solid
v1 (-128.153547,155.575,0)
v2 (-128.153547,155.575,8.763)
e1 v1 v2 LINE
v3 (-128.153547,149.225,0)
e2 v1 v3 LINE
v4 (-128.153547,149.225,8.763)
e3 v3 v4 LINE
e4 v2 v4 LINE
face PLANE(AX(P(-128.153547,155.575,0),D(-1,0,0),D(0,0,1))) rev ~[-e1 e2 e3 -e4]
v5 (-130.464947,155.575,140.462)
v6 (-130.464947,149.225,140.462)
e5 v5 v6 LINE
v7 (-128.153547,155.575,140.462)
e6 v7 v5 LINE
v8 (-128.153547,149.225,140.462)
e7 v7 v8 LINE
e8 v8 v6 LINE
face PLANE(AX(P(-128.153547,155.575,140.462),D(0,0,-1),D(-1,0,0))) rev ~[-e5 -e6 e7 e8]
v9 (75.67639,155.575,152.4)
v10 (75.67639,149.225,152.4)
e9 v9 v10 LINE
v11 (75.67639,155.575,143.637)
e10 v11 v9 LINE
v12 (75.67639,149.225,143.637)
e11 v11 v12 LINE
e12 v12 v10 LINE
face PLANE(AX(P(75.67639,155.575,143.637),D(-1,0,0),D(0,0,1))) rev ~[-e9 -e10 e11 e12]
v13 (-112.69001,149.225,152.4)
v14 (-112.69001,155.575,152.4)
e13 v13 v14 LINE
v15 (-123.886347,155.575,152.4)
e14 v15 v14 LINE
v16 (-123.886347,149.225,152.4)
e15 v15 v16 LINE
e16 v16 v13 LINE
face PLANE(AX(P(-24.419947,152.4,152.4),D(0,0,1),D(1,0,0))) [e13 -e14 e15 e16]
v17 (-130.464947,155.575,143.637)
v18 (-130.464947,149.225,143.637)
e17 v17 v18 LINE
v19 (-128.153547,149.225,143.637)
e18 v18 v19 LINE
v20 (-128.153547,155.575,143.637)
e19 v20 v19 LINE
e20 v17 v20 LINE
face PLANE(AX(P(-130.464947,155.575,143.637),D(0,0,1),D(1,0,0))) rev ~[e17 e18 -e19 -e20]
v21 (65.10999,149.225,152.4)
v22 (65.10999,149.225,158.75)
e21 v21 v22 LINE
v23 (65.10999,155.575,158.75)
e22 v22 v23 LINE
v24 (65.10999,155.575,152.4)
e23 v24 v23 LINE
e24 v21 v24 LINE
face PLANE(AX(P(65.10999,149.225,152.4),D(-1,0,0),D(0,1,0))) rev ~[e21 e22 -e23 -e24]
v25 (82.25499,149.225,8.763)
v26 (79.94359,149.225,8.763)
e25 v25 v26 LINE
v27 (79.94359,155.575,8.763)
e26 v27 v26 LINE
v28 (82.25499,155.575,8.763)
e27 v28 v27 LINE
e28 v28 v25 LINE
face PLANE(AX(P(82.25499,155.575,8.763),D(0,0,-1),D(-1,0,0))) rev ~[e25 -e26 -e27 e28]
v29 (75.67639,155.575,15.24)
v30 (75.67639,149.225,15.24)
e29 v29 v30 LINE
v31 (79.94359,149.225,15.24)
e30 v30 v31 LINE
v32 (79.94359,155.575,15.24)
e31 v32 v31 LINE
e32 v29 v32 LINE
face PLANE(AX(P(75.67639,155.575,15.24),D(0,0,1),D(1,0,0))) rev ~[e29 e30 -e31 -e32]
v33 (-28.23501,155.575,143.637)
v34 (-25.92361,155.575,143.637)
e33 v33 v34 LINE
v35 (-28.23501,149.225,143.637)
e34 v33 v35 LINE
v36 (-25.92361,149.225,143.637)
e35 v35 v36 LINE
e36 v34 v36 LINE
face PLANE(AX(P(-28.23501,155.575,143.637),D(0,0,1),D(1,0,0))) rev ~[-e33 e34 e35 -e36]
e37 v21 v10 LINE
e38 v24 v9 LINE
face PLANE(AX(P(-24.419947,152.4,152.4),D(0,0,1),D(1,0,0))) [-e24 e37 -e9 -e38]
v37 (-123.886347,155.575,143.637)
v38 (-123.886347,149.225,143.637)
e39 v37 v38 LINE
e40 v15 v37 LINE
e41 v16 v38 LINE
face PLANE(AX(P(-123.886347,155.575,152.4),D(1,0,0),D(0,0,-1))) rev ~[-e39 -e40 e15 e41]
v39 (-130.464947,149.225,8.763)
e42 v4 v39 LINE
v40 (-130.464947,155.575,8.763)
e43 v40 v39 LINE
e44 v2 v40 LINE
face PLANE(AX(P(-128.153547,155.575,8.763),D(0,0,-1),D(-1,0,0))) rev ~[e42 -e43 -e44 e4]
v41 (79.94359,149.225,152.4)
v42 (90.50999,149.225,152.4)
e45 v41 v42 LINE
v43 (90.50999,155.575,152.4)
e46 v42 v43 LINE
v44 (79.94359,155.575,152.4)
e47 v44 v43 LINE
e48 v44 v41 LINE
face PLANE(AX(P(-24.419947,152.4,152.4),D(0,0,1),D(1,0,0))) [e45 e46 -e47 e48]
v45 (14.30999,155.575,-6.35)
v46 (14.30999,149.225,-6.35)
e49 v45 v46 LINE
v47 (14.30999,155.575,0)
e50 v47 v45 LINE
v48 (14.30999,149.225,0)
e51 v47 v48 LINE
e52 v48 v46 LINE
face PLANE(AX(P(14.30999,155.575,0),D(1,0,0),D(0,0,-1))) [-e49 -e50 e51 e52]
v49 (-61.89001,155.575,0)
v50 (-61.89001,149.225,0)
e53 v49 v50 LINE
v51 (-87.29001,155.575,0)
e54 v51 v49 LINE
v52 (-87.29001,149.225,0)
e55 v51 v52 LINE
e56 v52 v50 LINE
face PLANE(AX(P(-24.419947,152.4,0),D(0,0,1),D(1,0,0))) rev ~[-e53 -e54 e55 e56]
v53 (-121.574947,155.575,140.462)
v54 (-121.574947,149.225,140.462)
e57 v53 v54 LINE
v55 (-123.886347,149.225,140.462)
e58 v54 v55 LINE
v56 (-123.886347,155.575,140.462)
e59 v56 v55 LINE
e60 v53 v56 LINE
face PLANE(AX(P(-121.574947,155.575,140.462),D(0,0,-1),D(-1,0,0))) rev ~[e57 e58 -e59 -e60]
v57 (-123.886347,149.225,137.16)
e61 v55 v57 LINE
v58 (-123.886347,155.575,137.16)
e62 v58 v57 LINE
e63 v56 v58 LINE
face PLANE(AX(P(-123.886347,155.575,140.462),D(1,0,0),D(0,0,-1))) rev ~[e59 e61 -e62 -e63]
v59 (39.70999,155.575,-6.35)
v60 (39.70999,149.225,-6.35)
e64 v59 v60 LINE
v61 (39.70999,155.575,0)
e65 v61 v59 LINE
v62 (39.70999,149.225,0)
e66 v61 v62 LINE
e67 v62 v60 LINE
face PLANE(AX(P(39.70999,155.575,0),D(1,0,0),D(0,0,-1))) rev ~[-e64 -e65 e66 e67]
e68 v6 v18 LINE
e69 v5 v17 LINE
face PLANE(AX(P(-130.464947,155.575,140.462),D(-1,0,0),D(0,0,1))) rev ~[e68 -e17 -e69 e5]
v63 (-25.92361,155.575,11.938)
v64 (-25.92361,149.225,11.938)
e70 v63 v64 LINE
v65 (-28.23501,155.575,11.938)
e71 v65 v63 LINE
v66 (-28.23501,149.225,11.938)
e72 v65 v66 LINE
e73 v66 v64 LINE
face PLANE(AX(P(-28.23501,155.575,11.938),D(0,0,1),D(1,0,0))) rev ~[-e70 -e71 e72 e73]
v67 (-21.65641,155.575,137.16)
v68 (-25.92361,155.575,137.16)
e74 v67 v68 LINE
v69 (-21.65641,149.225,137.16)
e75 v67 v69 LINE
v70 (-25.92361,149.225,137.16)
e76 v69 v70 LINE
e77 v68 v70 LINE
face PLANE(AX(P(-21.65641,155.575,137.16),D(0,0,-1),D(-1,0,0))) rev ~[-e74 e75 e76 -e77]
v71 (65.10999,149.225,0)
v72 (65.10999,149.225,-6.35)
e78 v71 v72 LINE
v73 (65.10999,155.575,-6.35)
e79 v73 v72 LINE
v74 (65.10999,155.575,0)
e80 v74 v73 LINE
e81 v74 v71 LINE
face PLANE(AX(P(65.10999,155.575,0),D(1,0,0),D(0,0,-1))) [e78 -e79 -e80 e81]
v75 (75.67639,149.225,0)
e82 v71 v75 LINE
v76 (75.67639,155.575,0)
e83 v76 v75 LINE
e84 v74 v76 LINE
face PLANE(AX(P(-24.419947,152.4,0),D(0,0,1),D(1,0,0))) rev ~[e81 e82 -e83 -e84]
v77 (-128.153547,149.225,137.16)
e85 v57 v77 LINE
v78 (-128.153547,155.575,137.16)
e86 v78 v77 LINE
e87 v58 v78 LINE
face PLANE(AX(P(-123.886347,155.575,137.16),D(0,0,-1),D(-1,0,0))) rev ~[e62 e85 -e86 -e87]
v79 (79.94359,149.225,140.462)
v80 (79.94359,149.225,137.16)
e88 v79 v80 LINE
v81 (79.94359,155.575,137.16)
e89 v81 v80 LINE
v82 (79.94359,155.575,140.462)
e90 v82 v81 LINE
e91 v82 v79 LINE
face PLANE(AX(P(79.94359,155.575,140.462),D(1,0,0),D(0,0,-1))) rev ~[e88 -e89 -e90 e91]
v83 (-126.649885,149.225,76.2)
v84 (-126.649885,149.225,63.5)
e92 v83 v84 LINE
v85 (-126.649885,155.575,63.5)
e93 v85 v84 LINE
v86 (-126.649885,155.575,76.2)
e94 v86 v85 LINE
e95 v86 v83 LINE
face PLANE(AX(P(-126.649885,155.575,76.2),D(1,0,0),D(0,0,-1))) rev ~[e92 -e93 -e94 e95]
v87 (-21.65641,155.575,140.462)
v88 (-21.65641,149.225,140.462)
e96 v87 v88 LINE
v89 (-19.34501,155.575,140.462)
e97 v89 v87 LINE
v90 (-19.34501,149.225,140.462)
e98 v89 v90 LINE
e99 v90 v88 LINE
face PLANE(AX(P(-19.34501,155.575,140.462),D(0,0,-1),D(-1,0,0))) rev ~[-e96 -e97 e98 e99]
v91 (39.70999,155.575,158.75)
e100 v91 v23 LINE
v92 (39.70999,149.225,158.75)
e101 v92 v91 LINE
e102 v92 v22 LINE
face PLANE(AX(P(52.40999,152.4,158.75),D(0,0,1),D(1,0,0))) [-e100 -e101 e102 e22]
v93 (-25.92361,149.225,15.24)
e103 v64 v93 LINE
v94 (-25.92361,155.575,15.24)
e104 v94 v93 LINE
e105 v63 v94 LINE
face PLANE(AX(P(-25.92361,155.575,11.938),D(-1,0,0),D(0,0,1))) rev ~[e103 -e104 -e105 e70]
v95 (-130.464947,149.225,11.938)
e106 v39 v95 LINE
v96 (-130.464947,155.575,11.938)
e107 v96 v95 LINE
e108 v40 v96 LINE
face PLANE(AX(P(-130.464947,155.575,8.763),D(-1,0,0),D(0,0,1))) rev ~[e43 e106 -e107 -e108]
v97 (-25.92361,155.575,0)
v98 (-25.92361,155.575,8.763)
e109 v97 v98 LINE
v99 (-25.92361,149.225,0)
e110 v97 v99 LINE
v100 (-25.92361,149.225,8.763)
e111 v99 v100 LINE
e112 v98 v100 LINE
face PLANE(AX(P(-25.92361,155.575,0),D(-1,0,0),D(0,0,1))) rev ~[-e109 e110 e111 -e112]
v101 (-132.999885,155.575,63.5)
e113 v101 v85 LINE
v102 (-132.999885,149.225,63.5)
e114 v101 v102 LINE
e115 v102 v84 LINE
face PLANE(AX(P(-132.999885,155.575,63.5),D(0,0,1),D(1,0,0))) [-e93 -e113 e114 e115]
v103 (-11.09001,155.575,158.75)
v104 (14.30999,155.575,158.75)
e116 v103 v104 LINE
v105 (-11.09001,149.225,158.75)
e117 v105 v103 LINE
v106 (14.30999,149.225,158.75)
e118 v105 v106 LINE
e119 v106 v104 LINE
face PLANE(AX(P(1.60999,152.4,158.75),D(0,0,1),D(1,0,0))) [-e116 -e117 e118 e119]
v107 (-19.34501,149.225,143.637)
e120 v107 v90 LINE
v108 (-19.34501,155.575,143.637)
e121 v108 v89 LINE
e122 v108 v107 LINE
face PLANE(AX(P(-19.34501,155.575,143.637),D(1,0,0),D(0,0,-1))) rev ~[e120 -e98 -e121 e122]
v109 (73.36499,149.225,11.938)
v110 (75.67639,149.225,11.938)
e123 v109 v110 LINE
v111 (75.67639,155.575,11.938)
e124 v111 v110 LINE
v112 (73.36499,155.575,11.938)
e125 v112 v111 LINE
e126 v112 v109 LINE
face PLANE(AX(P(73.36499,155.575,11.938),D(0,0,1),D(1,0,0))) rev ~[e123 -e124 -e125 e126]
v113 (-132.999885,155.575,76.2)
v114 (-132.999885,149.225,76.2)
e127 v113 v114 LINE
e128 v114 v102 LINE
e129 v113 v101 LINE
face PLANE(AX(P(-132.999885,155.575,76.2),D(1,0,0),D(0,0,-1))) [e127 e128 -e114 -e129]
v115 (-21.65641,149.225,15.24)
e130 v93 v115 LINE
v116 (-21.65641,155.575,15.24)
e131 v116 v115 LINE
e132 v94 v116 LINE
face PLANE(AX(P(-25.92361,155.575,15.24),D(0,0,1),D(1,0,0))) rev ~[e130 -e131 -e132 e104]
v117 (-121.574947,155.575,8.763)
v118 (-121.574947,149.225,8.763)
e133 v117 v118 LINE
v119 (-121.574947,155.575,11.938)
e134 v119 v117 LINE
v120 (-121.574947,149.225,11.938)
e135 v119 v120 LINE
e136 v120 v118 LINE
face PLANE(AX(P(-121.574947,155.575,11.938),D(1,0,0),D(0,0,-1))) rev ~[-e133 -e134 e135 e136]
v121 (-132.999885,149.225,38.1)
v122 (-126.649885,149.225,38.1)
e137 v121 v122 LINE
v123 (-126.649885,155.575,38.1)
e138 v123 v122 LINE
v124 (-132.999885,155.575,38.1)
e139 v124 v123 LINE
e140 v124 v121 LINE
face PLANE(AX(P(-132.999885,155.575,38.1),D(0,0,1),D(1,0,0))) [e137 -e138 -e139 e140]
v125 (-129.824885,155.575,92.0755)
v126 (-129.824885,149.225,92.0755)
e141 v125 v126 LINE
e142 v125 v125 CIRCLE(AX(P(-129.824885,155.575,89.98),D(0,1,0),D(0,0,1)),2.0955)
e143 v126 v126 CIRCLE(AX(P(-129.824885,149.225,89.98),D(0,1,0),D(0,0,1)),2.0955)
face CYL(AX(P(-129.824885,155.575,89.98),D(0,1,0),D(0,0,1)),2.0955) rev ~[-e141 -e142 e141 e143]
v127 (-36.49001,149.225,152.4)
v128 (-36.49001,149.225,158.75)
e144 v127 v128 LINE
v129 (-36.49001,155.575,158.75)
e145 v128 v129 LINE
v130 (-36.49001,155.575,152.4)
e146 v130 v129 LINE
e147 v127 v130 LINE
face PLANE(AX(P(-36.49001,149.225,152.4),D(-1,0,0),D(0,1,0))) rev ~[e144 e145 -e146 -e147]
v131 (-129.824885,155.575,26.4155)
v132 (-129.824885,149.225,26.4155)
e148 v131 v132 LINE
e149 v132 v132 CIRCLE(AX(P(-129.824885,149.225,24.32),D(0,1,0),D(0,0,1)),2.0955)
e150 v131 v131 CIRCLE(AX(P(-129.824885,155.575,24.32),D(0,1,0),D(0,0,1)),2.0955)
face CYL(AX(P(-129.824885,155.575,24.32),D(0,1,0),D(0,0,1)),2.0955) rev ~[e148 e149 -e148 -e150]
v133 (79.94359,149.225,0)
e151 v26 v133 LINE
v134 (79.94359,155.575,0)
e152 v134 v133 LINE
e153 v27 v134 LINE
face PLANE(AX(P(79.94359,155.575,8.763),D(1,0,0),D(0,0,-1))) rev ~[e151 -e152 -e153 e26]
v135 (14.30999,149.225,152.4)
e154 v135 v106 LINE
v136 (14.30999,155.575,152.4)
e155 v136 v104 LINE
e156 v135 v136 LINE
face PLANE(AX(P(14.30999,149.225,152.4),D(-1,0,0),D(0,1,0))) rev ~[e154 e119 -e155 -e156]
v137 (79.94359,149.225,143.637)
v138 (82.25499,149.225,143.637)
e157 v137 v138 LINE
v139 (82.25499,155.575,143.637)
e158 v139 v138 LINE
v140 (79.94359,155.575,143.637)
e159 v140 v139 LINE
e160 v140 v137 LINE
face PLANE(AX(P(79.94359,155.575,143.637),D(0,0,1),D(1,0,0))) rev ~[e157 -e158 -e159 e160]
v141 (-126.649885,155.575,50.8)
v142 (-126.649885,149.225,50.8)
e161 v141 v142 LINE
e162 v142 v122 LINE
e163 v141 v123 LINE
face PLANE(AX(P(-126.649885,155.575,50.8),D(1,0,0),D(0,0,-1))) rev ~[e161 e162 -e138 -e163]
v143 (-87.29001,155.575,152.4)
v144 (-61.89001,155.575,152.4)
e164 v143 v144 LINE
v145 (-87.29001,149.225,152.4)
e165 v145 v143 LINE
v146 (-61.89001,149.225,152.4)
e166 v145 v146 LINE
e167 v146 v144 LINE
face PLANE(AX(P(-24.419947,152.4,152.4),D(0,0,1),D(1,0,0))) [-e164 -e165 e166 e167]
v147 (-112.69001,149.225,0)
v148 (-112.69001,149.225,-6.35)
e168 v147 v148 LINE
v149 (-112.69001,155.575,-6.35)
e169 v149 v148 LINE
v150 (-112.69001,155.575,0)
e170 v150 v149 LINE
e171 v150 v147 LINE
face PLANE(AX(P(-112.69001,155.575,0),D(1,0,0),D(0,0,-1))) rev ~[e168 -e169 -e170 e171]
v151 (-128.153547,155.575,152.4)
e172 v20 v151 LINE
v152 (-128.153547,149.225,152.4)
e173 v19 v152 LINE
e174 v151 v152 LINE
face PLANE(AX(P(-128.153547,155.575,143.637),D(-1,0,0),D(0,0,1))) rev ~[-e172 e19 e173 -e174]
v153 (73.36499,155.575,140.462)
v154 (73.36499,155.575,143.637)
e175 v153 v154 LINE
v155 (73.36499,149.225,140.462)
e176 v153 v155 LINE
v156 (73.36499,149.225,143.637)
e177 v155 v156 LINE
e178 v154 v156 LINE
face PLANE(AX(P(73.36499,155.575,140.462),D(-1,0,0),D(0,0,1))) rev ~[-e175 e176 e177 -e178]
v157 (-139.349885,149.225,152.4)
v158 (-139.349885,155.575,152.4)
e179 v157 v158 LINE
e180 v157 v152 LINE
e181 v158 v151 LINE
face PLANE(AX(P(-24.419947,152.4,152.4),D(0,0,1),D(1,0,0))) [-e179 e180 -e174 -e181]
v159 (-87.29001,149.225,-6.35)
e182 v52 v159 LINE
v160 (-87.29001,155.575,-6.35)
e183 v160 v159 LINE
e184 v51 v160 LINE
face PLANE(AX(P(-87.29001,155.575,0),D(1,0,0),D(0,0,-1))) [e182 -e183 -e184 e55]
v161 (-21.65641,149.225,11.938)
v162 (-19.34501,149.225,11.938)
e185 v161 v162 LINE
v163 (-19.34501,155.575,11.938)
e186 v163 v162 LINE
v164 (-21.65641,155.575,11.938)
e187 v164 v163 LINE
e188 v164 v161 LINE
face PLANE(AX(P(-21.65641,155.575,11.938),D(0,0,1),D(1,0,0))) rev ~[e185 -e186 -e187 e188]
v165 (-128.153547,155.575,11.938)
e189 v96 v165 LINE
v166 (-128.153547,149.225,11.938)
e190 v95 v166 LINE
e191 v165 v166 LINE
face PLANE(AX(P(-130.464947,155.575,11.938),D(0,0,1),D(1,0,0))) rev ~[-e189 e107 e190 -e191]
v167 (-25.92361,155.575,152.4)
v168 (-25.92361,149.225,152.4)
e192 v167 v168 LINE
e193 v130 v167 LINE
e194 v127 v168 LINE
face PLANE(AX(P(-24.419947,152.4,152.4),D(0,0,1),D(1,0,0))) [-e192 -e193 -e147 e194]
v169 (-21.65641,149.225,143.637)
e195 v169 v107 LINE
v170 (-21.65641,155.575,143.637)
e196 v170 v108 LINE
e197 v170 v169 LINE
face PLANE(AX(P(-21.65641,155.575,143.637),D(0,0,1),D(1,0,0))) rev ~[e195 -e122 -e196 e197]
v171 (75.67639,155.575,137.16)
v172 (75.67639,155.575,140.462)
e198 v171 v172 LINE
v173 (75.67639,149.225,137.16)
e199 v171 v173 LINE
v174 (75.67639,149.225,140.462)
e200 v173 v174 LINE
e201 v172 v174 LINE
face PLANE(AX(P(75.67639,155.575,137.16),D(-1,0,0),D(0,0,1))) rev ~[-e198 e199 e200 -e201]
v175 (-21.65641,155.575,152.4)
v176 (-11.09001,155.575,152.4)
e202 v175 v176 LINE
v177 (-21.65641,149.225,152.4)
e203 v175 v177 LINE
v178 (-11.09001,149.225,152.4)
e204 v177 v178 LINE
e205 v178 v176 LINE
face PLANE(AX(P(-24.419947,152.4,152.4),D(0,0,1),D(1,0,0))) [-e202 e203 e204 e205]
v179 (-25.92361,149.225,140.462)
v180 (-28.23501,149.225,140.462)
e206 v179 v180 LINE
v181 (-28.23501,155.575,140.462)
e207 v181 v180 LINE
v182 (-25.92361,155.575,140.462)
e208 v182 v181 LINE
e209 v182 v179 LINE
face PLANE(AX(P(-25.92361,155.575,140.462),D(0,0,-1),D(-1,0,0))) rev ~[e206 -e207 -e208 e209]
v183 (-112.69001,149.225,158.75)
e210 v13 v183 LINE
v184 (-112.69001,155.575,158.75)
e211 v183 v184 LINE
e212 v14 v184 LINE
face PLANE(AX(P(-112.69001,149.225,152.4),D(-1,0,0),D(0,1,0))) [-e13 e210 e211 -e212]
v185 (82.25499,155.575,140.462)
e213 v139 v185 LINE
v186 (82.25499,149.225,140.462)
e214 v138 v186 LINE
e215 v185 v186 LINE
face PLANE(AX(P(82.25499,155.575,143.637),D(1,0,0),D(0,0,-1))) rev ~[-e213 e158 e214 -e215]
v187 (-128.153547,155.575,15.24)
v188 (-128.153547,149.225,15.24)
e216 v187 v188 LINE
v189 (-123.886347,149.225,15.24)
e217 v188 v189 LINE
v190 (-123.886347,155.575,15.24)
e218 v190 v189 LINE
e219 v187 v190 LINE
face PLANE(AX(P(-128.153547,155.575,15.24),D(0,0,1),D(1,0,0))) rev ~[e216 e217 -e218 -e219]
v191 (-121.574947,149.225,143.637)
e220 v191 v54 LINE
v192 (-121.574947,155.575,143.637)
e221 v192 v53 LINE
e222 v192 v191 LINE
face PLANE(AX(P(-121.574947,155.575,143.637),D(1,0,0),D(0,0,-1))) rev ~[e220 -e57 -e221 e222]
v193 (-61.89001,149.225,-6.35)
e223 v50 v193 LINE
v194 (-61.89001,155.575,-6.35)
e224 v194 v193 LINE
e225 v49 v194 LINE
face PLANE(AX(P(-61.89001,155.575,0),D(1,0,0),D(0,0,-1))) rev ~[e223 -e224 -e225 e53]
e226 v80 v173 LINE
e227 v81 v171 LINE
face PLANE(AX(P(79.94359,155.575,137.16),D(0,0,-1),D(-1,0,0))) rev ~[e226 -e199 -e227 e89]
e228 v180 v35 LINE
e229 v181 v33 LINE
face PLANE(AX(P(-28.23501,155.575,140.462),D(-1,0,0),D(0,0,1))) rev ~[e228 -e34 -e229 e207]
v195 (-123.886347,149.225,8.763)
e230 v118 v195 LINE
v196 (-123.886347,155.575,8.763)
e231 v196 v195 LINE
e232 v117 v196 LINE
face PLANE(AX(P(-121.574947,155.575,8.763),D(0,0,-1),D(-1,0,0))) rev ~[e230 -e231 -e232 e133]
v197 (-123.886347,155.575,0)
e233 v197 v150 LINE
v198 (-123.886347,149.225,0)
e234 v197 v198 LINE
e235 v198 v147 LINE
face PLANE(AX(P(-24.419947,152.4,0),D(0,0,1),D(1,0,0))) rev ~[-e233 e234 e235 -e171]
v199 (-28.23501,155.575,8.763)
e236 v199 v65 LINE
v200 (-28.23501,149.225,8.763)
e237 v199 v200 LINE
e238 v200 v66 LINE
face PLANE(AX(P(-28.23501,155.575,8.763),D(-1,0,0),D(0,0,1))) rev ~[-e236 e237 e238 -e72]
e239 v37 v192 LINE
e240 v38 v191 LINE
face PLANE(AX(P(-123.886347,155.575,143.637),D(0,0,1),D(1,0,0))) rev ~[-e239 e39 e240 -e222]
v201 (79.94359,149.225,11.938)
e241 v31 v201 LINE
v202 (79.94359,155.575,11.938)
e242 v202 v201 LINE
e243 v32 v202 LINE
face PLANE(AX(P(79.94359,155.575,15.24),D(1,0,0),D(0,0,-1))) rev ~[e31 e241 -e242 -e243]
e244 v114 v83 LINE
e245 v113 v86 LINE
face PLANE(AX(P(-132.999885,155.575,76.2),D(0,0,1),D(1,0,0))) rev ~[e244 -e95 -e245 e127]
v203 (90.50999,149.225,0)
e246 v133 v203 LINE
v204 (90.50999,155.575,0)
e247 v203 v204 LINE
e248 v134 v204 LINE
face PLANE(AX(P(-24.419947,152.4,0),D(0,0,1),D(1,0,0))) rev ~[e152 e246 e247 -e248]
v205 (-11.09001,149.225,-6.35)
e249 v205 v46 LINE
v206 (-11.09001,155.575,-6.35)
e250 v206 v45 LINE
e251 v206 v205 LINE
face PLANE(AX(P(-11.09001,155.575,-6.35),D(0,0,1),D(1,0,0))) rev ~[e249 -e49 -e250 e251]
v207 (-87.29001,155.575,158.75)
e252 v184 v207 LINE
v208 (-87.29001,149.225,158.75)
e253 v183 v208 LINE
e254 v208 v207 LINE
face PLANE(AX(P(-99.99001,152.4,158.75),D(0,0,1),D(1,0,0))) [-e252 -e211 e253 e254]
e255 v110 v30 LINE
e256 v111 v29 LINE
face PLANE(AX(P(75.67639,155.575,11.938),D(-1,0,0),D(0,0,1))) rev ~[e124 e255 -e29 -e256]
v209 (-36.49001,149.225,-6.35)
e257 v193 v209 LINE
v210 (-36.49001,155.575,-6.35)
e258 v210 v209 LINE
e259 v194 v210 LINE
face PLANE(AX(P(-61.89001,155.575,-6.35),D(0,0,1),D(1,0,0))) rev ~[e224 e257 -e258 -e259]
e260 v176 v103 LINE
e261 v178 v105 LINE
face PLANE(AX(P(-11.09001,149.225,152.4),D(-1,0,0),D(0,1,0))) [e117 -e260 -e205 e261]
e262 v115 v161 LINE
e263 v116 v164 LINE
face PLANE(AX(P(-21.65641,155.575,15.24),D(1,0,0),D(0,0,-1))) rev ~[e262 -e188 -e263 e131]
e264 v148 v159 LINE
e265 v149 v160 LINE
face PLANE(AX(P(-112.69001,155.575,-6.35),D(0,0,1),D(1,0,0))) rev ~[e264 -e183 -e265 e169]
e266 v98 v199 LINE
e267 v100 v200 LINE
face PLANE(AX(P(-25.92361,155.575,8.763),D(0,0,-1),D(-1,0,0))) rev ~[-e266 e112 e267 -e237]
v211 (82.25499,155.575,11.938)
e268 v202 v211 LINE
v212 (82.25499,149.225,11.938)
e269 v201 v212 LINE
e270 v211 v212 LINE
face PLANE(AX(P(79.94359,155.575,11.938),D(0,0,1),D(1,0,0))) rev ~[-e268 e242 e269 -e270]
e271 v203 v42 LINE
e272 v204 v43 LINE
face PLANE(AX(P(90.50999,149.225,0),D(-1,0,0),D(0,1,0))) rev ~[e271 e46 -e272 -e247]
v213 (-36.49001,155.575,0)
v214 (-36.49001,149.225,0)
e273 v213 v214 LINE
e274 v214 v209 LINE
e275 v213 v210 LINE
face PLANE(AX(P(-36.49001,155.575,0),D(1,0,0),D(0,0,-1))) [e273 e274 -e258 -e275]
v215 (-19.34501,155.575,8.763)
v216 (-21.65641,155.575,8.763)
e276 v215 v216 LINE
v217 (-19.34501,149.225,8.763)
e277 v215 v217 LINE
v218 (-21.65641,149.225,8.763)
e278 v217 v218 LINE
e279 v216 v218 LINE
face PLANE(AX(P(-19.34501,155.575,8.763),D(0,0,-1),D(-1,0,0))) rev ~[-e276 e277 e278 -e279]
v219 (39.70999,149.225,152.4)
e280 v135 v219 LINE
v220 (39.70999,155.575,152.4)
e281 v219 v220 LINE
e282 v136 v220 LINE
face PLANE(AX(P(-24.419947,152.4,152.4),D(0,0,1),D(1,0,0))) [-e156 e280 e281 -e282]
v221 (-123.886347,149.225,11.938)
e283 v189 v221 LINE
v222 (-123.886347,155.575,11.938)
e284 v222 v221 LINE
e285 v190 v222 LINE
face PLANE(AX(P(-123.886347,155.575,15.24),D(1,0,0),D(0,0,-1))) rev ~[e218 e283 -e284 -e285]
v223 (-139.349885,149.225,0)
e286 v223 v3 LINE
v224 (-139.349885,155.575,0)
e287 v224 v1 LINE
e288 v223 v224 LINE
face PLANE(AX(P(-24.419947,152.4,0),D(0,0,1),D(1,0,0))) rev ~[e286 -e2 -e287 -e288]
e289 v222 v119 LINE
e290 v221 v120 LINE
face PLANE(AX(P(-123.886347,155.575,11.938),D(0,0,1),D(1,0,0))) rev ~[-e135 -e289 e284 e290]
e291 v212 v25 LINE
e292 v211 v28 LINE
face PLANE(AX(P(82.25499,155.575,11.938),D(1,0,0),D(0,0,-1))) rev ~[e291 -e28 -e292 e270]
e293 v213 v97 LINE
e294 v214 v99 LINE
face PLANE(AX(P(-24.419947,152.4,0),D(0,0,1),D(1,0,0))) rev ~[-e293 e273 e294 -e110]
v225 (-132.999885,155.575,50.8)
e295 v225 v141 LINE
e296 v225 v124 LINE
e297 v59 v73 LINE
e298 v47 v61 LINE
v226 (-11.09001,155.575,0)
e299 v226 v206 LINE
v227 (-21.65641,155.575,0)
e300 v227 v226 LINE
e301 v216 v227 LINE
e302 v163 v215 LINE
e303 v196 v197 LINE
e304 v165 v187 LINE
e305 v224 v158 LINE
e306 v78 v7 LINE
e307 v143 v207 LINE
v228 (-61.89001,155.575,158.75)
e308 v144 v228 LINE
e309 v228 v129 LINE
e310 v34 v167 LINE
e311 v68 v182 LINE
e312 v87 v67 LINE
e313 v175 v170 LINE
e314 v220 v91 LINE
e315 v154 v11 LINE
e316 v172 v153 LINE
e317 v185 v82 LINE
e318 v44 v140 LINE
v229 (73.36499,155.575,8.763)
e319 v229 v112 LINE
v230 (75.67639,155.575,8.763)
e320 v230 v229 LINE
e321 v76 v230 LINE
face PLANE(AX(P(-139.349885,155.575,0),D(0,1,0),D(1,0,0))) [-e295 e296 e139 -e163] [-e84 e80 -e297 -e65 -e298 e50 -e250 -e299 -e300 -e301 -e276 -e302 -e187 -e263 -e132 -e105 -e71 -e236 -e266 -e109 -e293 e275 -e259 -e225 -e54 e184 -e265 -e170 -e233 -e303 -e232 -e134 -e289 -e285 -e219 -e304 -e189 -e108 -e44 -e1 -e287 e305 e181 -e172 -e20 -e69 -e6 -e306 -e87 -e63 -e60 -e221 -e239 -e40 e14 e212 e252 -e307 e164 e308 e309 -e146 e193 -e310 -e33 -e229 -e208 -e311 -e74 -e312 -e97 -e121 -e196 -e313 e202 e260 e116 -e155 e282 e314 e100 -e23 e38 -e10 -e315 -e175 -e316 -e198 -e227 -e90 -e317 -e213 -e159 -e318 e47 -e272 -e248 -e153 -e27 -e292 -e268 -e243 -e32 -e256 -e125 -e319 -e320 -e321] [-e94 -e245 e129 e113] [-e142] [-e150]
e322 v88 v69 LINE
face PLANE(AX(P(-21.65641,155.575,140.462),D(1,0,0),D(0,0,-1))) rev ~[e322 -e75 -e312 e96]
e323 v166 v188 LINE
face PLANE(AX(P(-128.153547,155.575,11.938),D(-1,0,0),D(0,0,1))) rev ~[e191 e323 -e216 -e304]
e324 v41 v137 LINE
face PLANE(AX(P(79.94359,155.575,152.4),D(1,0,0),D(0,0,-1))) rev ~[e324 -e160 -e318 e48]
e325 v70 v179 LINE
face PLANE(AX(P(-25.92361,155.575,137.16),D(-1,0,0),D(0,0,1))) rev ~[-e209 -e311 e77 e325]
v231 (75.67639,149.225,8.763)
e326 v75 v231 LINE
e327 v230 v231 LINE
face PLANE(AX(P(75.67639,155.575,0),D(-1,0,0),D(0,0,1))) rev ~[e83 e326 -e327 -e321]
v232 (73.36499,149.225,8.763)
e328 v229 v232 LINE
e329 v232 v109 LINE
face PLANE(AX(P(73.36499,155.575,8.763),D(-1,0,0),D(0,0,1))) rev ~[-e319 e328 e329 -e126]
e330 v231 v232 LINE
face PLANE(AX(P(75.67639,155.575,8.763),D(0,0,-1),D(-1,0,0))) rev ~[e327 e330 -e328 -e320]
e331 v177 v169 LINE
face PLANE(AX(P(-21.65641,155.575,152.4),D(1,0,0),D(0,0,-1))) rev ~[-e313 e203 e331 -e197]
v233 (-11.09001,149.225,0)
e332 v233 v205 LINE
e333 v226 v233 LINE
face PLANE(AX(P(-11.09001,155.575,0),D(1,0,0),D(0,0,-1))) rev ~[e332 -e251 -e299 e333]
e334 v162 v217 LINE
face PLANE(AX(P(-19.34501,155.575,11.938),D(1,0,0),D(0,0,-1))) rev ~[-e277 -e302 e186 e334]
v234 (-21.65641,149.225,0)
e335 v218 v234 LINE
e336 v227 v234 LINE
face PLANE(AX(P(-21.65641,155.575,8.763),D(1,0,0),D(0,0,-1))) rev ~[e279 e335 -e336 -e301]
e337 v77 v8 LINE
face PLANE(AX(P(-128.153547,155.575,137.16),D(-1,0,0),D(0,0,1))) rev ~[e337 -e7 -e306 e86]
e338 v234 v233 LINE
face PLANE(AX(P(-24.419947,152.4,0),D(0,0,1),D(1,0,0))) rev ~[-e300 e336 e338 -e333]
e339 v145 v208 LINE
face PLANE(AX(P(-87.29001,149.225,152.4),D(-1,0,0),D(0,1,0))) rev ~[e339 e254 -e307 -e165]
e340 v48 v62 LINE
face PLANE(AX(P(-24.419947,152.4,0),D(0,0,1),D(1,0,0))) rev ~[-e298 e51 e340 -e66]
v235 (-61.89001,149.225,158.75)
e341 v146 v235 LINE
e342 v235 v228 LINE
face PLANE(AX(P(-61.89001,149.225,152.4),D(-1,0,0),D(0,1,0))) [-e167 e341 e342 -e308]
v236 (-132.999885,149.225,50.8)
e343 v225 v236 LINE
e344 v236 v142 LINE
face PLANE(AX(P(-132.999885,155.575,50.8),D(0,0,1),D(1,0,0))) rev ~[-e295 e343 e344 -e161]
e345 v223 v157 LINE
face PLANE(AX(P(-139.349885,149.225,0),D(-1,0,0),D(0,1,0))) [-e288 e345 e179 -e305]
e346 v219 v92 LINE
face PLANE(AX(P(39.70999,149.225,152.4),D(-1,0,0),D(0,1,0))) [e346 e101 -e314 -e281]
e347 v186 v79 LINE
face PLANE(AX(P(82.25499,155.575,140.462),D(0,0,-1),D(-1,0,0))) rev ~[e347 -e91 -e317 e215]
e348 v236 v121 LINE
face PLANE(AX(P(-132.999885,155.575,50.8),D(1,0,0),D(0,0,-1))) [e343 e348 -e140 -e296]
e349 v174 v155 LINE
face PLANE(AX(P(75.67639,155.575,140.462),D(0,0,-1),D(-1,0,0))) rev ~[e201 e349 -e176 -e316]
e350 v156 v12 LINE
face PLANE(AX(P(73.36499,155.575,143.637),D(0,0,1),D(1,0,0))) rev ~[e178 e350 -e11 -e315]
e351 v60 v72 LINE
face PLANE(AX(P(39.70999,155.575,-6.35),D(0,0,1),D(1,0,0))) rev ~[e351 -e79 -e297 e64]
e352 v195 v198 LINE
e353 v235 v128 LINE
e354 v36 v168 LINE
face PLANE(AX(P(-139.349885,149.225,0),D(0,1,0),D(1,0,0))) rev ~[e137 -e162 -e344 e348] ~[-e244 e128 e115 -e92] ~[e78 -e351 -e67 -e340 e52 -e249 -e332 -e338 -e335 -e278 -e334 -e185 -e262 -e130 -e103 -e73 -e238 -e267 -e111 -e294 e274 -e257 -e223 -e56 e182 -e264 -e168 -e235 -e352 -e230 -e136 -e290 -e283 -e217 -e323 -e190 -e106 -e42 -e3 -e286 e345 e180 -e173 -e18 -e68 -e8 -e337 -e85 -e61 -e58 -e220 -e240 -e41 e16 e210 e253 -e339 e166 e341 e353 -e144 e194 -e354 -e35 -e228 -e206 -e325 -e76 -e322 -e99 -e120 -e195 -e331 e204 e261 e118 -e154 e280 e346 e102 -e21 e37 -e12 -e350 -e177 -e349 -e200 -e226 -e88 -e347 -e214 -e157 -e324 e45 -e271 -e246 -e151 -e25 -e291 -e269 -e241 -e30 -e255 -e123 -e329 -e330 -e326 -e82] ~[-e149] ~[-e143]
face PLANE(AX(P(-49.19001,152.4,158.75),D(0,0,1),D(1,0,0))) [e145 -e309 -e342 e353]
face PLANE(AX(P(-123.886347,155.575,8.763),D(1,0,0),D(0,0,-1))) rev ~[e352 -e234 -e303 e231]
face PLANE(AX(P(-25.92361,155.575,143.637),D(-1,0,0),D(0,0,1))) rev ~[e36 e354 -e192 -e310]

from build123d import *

# Parameters (mm, degrees)
SKETCH1_W           = 229.859874896
SKETCH1_H           = 6.35
BOSS_EXTRUDE1_DEPTH = 152.4
SKETCH2_W           = 25.4
SKETCH2_H           = 6.35
BOSS_EXTRUDE2_DEPTH = 6.35
LPATTERN1_COUNT     = 4
LPATTERN1_PITCH     = 50.8
SKETCH3_W           = 25.4
SKETCH3_H           = 6.35
BOSS_EXTRUDE3_DEPTH = 6.35
LPATTERN2_COUNT     = 4
LPATTERN2_PITCH     = 50.8
CUT_EXTRUDE1_DEPTH  = 6.35
SKETCH5_W           = 6.35
SKETCH5_H           = 12.7
CUT_EXTRUDE2_DEPTH  = 212.329778686
SKETCH6_R           = 2.0955
CUT_EXTRUDE3_DEPTH  = 212.329778686


with BuildPart() as part:
    # Sketch1 → Boss-Extrude1 (new body)
    with BuildSketch(Plane.XY):
        with Locations((-24.419947229, 152.4)):
            Rectangle(SKETCH1_W, SKETCH1_H)
    extrude(amount=BOSS_EXTRUDE1_DEPTH)

    # Sketch2 → Boss-Extrude2 (add)
    with BuildSketch(Plane(origin=(0, 155.575, 0), x_dir=(1, 0, 0), z_dir=(0, 1, 0))):
        with Locations((52.409990219, 3.175)):
            Rectangle(SKETCH2_W, SKETCH2_H)
    boss_extrude2 = extrude(amount=-BOSS_EXTRUDE2_DEPTH)

    # LPattern1: Boss-Extrude2 ×4
    with Locations(*[(-i * LPATTERN1_PITCH, 0, 0) for i in range(1, LPATTERN1_COUNT)]):
        add(boss_extrude2)

    # Sketch3 → Boss-Extrude3 (add)
    with BuildSketch(Plane.XY.offset(152.4)):
        with Locations((52.409990219, 152.4)):
            Rectangle(SKETCH3_W, SKETCH3_H)
    boss_extrude3 = extrude(amount=BOSS_EXTRUDE3_DEPTH)

    # LPattern2: Boss-Extrude3 ×4
    with Locations(*[(-i * LPATTERN2_PITCH, 0, 0) for i in range(1, LPATTERN2_COUNT)]):
        add(boss_extrude3)

    # Sketch4 → Cut-Extrude1 (cut)
    with BuildSketch(Plane(origin=(0, 155.575, 0), x_dir=(1, 0, 0), z_dir=(0, 1, 0))):
        Polygon((-123.886347229, 0), (-128.153547229, 0), (-128.153547229, -8.763), (-130.464947229, -8.763), (-130.464947229, -11.938), (-128.153547229, -11.938), (-128.153547229, -15.24), (-123.886347229, -15.24), (-123.886347229, -11.938), (-121.574947229, -11.938), (-121.574947229, -8.763), (-123.886347229, -8.763), align=None)
        Polygon((-21.656409781, 0), (-25.923609781, 0), (-25.923609781, -8.763), (-28.235009781, -8.763), (-28.235009781, -11.938), (-25.923609781, -11.938), (-25.923609781, -15.24), (-21.656409781, -15.24), (-21.656409781, -11.938), (-19.345009781, -11.938), (-19.345009781, -8.763), (-21.656409781, -8.763), align=None)
        Polygon((79.943590219, 0), (75.676390219, 0), (75.676390219, -8.763), (73.364990219, -8.763), (73.364990219, -11.938), (75.676390219, -11.938), (75.676390219, -15.24), (79.943590219, -15.24), (79.943590219, -11.938), (82.254990219, -11.938), (82.254990219, -8.763), (79.943590219, -8.763), align=None)
        Polygon((-128.153547229, -152.4), (-123.886347229, -152.4), (-123.886347229, -143.637), (-121.574947229, -143.637), (-121.574947229, -140.462), (-123.886347229, -140.462), (-123.886347229, -137.16), (-128.153547229, -137.16), (-128.153547229, -140.462), (-130.464947229, -140.462), (-130.464947229, -143.637), (-128.153547229, -143.637), align=None)
        Polygon((-25.923609781, -152.4), (-21.656409781, -152.4), (-21.656409781, -143.637), (-19.345009781, -143.637), (-19.345009781, -140.462), (-21.656409781, -140.462), (-21.656409781, -137.16), (-25.923609781, -137.16), (-25.923609781, -140.462), (-28.235009781, -140.462), (-28.235009781, -143.637), (-25.923609781, -143.637), align=None)
        Polygon((75.676390219, -152.4), (79.943590219, -152.4), (79.943590219, -143.637), (82.254990219, -143.637), (82.254990219, -140.462), (79.943590219, -140.462), (79.943590219, -137.16), (75.676390219, -137.16), (75.676390219, -140.462), (73.364990219, -140.462), (73.364990219, -143.637), (75.676390219, -143.637), align=None)
    extrude(amount=-CUT_EXTRUDE1_DEPTH, mode=Mode.SUBTRACT)

    # Sketch5 → Cut-Extrude2 (cut, through all)
    with BuildSketch(Plane(origin=(0, 155.575, 0), x_dir=(1, 0, 0), z_dir=(0, 1, 0))):
        with Locations((-129.824884677, -44.45)):
            Rectangle(SKETCH5_W, SKETCH5_H)
        with Locations((-129.824884677, -69.85)):
            Rectangle(SKETCH5_W, SKETCH5_H)
    extrude(amount=-CUT_EXTRUDE2_DEPTH, mode=Mode.SUBTRACT)

    # Sketch6 → Cut-Extrude3 (cut, through all)
    with BuildSketch(Plane(origin=(0, 155.575, 0), x_dir=(1, 0, 0), z_dir=(0, 1, 0))):
        with Locations(Location((-129.824884677, -89.98, 0), (0, 0, 270))):
            Circle(SKETCH6_R)
        with Locations(Location((-129.824884677, -24.32, 0), (0, 0, 270))):
            Circle(SKETCH6_R)
    extrude(amount=-CUT_EXTRUDE3_DEPTH, mode=Mode.SUBTRACT)


solid = part.part
